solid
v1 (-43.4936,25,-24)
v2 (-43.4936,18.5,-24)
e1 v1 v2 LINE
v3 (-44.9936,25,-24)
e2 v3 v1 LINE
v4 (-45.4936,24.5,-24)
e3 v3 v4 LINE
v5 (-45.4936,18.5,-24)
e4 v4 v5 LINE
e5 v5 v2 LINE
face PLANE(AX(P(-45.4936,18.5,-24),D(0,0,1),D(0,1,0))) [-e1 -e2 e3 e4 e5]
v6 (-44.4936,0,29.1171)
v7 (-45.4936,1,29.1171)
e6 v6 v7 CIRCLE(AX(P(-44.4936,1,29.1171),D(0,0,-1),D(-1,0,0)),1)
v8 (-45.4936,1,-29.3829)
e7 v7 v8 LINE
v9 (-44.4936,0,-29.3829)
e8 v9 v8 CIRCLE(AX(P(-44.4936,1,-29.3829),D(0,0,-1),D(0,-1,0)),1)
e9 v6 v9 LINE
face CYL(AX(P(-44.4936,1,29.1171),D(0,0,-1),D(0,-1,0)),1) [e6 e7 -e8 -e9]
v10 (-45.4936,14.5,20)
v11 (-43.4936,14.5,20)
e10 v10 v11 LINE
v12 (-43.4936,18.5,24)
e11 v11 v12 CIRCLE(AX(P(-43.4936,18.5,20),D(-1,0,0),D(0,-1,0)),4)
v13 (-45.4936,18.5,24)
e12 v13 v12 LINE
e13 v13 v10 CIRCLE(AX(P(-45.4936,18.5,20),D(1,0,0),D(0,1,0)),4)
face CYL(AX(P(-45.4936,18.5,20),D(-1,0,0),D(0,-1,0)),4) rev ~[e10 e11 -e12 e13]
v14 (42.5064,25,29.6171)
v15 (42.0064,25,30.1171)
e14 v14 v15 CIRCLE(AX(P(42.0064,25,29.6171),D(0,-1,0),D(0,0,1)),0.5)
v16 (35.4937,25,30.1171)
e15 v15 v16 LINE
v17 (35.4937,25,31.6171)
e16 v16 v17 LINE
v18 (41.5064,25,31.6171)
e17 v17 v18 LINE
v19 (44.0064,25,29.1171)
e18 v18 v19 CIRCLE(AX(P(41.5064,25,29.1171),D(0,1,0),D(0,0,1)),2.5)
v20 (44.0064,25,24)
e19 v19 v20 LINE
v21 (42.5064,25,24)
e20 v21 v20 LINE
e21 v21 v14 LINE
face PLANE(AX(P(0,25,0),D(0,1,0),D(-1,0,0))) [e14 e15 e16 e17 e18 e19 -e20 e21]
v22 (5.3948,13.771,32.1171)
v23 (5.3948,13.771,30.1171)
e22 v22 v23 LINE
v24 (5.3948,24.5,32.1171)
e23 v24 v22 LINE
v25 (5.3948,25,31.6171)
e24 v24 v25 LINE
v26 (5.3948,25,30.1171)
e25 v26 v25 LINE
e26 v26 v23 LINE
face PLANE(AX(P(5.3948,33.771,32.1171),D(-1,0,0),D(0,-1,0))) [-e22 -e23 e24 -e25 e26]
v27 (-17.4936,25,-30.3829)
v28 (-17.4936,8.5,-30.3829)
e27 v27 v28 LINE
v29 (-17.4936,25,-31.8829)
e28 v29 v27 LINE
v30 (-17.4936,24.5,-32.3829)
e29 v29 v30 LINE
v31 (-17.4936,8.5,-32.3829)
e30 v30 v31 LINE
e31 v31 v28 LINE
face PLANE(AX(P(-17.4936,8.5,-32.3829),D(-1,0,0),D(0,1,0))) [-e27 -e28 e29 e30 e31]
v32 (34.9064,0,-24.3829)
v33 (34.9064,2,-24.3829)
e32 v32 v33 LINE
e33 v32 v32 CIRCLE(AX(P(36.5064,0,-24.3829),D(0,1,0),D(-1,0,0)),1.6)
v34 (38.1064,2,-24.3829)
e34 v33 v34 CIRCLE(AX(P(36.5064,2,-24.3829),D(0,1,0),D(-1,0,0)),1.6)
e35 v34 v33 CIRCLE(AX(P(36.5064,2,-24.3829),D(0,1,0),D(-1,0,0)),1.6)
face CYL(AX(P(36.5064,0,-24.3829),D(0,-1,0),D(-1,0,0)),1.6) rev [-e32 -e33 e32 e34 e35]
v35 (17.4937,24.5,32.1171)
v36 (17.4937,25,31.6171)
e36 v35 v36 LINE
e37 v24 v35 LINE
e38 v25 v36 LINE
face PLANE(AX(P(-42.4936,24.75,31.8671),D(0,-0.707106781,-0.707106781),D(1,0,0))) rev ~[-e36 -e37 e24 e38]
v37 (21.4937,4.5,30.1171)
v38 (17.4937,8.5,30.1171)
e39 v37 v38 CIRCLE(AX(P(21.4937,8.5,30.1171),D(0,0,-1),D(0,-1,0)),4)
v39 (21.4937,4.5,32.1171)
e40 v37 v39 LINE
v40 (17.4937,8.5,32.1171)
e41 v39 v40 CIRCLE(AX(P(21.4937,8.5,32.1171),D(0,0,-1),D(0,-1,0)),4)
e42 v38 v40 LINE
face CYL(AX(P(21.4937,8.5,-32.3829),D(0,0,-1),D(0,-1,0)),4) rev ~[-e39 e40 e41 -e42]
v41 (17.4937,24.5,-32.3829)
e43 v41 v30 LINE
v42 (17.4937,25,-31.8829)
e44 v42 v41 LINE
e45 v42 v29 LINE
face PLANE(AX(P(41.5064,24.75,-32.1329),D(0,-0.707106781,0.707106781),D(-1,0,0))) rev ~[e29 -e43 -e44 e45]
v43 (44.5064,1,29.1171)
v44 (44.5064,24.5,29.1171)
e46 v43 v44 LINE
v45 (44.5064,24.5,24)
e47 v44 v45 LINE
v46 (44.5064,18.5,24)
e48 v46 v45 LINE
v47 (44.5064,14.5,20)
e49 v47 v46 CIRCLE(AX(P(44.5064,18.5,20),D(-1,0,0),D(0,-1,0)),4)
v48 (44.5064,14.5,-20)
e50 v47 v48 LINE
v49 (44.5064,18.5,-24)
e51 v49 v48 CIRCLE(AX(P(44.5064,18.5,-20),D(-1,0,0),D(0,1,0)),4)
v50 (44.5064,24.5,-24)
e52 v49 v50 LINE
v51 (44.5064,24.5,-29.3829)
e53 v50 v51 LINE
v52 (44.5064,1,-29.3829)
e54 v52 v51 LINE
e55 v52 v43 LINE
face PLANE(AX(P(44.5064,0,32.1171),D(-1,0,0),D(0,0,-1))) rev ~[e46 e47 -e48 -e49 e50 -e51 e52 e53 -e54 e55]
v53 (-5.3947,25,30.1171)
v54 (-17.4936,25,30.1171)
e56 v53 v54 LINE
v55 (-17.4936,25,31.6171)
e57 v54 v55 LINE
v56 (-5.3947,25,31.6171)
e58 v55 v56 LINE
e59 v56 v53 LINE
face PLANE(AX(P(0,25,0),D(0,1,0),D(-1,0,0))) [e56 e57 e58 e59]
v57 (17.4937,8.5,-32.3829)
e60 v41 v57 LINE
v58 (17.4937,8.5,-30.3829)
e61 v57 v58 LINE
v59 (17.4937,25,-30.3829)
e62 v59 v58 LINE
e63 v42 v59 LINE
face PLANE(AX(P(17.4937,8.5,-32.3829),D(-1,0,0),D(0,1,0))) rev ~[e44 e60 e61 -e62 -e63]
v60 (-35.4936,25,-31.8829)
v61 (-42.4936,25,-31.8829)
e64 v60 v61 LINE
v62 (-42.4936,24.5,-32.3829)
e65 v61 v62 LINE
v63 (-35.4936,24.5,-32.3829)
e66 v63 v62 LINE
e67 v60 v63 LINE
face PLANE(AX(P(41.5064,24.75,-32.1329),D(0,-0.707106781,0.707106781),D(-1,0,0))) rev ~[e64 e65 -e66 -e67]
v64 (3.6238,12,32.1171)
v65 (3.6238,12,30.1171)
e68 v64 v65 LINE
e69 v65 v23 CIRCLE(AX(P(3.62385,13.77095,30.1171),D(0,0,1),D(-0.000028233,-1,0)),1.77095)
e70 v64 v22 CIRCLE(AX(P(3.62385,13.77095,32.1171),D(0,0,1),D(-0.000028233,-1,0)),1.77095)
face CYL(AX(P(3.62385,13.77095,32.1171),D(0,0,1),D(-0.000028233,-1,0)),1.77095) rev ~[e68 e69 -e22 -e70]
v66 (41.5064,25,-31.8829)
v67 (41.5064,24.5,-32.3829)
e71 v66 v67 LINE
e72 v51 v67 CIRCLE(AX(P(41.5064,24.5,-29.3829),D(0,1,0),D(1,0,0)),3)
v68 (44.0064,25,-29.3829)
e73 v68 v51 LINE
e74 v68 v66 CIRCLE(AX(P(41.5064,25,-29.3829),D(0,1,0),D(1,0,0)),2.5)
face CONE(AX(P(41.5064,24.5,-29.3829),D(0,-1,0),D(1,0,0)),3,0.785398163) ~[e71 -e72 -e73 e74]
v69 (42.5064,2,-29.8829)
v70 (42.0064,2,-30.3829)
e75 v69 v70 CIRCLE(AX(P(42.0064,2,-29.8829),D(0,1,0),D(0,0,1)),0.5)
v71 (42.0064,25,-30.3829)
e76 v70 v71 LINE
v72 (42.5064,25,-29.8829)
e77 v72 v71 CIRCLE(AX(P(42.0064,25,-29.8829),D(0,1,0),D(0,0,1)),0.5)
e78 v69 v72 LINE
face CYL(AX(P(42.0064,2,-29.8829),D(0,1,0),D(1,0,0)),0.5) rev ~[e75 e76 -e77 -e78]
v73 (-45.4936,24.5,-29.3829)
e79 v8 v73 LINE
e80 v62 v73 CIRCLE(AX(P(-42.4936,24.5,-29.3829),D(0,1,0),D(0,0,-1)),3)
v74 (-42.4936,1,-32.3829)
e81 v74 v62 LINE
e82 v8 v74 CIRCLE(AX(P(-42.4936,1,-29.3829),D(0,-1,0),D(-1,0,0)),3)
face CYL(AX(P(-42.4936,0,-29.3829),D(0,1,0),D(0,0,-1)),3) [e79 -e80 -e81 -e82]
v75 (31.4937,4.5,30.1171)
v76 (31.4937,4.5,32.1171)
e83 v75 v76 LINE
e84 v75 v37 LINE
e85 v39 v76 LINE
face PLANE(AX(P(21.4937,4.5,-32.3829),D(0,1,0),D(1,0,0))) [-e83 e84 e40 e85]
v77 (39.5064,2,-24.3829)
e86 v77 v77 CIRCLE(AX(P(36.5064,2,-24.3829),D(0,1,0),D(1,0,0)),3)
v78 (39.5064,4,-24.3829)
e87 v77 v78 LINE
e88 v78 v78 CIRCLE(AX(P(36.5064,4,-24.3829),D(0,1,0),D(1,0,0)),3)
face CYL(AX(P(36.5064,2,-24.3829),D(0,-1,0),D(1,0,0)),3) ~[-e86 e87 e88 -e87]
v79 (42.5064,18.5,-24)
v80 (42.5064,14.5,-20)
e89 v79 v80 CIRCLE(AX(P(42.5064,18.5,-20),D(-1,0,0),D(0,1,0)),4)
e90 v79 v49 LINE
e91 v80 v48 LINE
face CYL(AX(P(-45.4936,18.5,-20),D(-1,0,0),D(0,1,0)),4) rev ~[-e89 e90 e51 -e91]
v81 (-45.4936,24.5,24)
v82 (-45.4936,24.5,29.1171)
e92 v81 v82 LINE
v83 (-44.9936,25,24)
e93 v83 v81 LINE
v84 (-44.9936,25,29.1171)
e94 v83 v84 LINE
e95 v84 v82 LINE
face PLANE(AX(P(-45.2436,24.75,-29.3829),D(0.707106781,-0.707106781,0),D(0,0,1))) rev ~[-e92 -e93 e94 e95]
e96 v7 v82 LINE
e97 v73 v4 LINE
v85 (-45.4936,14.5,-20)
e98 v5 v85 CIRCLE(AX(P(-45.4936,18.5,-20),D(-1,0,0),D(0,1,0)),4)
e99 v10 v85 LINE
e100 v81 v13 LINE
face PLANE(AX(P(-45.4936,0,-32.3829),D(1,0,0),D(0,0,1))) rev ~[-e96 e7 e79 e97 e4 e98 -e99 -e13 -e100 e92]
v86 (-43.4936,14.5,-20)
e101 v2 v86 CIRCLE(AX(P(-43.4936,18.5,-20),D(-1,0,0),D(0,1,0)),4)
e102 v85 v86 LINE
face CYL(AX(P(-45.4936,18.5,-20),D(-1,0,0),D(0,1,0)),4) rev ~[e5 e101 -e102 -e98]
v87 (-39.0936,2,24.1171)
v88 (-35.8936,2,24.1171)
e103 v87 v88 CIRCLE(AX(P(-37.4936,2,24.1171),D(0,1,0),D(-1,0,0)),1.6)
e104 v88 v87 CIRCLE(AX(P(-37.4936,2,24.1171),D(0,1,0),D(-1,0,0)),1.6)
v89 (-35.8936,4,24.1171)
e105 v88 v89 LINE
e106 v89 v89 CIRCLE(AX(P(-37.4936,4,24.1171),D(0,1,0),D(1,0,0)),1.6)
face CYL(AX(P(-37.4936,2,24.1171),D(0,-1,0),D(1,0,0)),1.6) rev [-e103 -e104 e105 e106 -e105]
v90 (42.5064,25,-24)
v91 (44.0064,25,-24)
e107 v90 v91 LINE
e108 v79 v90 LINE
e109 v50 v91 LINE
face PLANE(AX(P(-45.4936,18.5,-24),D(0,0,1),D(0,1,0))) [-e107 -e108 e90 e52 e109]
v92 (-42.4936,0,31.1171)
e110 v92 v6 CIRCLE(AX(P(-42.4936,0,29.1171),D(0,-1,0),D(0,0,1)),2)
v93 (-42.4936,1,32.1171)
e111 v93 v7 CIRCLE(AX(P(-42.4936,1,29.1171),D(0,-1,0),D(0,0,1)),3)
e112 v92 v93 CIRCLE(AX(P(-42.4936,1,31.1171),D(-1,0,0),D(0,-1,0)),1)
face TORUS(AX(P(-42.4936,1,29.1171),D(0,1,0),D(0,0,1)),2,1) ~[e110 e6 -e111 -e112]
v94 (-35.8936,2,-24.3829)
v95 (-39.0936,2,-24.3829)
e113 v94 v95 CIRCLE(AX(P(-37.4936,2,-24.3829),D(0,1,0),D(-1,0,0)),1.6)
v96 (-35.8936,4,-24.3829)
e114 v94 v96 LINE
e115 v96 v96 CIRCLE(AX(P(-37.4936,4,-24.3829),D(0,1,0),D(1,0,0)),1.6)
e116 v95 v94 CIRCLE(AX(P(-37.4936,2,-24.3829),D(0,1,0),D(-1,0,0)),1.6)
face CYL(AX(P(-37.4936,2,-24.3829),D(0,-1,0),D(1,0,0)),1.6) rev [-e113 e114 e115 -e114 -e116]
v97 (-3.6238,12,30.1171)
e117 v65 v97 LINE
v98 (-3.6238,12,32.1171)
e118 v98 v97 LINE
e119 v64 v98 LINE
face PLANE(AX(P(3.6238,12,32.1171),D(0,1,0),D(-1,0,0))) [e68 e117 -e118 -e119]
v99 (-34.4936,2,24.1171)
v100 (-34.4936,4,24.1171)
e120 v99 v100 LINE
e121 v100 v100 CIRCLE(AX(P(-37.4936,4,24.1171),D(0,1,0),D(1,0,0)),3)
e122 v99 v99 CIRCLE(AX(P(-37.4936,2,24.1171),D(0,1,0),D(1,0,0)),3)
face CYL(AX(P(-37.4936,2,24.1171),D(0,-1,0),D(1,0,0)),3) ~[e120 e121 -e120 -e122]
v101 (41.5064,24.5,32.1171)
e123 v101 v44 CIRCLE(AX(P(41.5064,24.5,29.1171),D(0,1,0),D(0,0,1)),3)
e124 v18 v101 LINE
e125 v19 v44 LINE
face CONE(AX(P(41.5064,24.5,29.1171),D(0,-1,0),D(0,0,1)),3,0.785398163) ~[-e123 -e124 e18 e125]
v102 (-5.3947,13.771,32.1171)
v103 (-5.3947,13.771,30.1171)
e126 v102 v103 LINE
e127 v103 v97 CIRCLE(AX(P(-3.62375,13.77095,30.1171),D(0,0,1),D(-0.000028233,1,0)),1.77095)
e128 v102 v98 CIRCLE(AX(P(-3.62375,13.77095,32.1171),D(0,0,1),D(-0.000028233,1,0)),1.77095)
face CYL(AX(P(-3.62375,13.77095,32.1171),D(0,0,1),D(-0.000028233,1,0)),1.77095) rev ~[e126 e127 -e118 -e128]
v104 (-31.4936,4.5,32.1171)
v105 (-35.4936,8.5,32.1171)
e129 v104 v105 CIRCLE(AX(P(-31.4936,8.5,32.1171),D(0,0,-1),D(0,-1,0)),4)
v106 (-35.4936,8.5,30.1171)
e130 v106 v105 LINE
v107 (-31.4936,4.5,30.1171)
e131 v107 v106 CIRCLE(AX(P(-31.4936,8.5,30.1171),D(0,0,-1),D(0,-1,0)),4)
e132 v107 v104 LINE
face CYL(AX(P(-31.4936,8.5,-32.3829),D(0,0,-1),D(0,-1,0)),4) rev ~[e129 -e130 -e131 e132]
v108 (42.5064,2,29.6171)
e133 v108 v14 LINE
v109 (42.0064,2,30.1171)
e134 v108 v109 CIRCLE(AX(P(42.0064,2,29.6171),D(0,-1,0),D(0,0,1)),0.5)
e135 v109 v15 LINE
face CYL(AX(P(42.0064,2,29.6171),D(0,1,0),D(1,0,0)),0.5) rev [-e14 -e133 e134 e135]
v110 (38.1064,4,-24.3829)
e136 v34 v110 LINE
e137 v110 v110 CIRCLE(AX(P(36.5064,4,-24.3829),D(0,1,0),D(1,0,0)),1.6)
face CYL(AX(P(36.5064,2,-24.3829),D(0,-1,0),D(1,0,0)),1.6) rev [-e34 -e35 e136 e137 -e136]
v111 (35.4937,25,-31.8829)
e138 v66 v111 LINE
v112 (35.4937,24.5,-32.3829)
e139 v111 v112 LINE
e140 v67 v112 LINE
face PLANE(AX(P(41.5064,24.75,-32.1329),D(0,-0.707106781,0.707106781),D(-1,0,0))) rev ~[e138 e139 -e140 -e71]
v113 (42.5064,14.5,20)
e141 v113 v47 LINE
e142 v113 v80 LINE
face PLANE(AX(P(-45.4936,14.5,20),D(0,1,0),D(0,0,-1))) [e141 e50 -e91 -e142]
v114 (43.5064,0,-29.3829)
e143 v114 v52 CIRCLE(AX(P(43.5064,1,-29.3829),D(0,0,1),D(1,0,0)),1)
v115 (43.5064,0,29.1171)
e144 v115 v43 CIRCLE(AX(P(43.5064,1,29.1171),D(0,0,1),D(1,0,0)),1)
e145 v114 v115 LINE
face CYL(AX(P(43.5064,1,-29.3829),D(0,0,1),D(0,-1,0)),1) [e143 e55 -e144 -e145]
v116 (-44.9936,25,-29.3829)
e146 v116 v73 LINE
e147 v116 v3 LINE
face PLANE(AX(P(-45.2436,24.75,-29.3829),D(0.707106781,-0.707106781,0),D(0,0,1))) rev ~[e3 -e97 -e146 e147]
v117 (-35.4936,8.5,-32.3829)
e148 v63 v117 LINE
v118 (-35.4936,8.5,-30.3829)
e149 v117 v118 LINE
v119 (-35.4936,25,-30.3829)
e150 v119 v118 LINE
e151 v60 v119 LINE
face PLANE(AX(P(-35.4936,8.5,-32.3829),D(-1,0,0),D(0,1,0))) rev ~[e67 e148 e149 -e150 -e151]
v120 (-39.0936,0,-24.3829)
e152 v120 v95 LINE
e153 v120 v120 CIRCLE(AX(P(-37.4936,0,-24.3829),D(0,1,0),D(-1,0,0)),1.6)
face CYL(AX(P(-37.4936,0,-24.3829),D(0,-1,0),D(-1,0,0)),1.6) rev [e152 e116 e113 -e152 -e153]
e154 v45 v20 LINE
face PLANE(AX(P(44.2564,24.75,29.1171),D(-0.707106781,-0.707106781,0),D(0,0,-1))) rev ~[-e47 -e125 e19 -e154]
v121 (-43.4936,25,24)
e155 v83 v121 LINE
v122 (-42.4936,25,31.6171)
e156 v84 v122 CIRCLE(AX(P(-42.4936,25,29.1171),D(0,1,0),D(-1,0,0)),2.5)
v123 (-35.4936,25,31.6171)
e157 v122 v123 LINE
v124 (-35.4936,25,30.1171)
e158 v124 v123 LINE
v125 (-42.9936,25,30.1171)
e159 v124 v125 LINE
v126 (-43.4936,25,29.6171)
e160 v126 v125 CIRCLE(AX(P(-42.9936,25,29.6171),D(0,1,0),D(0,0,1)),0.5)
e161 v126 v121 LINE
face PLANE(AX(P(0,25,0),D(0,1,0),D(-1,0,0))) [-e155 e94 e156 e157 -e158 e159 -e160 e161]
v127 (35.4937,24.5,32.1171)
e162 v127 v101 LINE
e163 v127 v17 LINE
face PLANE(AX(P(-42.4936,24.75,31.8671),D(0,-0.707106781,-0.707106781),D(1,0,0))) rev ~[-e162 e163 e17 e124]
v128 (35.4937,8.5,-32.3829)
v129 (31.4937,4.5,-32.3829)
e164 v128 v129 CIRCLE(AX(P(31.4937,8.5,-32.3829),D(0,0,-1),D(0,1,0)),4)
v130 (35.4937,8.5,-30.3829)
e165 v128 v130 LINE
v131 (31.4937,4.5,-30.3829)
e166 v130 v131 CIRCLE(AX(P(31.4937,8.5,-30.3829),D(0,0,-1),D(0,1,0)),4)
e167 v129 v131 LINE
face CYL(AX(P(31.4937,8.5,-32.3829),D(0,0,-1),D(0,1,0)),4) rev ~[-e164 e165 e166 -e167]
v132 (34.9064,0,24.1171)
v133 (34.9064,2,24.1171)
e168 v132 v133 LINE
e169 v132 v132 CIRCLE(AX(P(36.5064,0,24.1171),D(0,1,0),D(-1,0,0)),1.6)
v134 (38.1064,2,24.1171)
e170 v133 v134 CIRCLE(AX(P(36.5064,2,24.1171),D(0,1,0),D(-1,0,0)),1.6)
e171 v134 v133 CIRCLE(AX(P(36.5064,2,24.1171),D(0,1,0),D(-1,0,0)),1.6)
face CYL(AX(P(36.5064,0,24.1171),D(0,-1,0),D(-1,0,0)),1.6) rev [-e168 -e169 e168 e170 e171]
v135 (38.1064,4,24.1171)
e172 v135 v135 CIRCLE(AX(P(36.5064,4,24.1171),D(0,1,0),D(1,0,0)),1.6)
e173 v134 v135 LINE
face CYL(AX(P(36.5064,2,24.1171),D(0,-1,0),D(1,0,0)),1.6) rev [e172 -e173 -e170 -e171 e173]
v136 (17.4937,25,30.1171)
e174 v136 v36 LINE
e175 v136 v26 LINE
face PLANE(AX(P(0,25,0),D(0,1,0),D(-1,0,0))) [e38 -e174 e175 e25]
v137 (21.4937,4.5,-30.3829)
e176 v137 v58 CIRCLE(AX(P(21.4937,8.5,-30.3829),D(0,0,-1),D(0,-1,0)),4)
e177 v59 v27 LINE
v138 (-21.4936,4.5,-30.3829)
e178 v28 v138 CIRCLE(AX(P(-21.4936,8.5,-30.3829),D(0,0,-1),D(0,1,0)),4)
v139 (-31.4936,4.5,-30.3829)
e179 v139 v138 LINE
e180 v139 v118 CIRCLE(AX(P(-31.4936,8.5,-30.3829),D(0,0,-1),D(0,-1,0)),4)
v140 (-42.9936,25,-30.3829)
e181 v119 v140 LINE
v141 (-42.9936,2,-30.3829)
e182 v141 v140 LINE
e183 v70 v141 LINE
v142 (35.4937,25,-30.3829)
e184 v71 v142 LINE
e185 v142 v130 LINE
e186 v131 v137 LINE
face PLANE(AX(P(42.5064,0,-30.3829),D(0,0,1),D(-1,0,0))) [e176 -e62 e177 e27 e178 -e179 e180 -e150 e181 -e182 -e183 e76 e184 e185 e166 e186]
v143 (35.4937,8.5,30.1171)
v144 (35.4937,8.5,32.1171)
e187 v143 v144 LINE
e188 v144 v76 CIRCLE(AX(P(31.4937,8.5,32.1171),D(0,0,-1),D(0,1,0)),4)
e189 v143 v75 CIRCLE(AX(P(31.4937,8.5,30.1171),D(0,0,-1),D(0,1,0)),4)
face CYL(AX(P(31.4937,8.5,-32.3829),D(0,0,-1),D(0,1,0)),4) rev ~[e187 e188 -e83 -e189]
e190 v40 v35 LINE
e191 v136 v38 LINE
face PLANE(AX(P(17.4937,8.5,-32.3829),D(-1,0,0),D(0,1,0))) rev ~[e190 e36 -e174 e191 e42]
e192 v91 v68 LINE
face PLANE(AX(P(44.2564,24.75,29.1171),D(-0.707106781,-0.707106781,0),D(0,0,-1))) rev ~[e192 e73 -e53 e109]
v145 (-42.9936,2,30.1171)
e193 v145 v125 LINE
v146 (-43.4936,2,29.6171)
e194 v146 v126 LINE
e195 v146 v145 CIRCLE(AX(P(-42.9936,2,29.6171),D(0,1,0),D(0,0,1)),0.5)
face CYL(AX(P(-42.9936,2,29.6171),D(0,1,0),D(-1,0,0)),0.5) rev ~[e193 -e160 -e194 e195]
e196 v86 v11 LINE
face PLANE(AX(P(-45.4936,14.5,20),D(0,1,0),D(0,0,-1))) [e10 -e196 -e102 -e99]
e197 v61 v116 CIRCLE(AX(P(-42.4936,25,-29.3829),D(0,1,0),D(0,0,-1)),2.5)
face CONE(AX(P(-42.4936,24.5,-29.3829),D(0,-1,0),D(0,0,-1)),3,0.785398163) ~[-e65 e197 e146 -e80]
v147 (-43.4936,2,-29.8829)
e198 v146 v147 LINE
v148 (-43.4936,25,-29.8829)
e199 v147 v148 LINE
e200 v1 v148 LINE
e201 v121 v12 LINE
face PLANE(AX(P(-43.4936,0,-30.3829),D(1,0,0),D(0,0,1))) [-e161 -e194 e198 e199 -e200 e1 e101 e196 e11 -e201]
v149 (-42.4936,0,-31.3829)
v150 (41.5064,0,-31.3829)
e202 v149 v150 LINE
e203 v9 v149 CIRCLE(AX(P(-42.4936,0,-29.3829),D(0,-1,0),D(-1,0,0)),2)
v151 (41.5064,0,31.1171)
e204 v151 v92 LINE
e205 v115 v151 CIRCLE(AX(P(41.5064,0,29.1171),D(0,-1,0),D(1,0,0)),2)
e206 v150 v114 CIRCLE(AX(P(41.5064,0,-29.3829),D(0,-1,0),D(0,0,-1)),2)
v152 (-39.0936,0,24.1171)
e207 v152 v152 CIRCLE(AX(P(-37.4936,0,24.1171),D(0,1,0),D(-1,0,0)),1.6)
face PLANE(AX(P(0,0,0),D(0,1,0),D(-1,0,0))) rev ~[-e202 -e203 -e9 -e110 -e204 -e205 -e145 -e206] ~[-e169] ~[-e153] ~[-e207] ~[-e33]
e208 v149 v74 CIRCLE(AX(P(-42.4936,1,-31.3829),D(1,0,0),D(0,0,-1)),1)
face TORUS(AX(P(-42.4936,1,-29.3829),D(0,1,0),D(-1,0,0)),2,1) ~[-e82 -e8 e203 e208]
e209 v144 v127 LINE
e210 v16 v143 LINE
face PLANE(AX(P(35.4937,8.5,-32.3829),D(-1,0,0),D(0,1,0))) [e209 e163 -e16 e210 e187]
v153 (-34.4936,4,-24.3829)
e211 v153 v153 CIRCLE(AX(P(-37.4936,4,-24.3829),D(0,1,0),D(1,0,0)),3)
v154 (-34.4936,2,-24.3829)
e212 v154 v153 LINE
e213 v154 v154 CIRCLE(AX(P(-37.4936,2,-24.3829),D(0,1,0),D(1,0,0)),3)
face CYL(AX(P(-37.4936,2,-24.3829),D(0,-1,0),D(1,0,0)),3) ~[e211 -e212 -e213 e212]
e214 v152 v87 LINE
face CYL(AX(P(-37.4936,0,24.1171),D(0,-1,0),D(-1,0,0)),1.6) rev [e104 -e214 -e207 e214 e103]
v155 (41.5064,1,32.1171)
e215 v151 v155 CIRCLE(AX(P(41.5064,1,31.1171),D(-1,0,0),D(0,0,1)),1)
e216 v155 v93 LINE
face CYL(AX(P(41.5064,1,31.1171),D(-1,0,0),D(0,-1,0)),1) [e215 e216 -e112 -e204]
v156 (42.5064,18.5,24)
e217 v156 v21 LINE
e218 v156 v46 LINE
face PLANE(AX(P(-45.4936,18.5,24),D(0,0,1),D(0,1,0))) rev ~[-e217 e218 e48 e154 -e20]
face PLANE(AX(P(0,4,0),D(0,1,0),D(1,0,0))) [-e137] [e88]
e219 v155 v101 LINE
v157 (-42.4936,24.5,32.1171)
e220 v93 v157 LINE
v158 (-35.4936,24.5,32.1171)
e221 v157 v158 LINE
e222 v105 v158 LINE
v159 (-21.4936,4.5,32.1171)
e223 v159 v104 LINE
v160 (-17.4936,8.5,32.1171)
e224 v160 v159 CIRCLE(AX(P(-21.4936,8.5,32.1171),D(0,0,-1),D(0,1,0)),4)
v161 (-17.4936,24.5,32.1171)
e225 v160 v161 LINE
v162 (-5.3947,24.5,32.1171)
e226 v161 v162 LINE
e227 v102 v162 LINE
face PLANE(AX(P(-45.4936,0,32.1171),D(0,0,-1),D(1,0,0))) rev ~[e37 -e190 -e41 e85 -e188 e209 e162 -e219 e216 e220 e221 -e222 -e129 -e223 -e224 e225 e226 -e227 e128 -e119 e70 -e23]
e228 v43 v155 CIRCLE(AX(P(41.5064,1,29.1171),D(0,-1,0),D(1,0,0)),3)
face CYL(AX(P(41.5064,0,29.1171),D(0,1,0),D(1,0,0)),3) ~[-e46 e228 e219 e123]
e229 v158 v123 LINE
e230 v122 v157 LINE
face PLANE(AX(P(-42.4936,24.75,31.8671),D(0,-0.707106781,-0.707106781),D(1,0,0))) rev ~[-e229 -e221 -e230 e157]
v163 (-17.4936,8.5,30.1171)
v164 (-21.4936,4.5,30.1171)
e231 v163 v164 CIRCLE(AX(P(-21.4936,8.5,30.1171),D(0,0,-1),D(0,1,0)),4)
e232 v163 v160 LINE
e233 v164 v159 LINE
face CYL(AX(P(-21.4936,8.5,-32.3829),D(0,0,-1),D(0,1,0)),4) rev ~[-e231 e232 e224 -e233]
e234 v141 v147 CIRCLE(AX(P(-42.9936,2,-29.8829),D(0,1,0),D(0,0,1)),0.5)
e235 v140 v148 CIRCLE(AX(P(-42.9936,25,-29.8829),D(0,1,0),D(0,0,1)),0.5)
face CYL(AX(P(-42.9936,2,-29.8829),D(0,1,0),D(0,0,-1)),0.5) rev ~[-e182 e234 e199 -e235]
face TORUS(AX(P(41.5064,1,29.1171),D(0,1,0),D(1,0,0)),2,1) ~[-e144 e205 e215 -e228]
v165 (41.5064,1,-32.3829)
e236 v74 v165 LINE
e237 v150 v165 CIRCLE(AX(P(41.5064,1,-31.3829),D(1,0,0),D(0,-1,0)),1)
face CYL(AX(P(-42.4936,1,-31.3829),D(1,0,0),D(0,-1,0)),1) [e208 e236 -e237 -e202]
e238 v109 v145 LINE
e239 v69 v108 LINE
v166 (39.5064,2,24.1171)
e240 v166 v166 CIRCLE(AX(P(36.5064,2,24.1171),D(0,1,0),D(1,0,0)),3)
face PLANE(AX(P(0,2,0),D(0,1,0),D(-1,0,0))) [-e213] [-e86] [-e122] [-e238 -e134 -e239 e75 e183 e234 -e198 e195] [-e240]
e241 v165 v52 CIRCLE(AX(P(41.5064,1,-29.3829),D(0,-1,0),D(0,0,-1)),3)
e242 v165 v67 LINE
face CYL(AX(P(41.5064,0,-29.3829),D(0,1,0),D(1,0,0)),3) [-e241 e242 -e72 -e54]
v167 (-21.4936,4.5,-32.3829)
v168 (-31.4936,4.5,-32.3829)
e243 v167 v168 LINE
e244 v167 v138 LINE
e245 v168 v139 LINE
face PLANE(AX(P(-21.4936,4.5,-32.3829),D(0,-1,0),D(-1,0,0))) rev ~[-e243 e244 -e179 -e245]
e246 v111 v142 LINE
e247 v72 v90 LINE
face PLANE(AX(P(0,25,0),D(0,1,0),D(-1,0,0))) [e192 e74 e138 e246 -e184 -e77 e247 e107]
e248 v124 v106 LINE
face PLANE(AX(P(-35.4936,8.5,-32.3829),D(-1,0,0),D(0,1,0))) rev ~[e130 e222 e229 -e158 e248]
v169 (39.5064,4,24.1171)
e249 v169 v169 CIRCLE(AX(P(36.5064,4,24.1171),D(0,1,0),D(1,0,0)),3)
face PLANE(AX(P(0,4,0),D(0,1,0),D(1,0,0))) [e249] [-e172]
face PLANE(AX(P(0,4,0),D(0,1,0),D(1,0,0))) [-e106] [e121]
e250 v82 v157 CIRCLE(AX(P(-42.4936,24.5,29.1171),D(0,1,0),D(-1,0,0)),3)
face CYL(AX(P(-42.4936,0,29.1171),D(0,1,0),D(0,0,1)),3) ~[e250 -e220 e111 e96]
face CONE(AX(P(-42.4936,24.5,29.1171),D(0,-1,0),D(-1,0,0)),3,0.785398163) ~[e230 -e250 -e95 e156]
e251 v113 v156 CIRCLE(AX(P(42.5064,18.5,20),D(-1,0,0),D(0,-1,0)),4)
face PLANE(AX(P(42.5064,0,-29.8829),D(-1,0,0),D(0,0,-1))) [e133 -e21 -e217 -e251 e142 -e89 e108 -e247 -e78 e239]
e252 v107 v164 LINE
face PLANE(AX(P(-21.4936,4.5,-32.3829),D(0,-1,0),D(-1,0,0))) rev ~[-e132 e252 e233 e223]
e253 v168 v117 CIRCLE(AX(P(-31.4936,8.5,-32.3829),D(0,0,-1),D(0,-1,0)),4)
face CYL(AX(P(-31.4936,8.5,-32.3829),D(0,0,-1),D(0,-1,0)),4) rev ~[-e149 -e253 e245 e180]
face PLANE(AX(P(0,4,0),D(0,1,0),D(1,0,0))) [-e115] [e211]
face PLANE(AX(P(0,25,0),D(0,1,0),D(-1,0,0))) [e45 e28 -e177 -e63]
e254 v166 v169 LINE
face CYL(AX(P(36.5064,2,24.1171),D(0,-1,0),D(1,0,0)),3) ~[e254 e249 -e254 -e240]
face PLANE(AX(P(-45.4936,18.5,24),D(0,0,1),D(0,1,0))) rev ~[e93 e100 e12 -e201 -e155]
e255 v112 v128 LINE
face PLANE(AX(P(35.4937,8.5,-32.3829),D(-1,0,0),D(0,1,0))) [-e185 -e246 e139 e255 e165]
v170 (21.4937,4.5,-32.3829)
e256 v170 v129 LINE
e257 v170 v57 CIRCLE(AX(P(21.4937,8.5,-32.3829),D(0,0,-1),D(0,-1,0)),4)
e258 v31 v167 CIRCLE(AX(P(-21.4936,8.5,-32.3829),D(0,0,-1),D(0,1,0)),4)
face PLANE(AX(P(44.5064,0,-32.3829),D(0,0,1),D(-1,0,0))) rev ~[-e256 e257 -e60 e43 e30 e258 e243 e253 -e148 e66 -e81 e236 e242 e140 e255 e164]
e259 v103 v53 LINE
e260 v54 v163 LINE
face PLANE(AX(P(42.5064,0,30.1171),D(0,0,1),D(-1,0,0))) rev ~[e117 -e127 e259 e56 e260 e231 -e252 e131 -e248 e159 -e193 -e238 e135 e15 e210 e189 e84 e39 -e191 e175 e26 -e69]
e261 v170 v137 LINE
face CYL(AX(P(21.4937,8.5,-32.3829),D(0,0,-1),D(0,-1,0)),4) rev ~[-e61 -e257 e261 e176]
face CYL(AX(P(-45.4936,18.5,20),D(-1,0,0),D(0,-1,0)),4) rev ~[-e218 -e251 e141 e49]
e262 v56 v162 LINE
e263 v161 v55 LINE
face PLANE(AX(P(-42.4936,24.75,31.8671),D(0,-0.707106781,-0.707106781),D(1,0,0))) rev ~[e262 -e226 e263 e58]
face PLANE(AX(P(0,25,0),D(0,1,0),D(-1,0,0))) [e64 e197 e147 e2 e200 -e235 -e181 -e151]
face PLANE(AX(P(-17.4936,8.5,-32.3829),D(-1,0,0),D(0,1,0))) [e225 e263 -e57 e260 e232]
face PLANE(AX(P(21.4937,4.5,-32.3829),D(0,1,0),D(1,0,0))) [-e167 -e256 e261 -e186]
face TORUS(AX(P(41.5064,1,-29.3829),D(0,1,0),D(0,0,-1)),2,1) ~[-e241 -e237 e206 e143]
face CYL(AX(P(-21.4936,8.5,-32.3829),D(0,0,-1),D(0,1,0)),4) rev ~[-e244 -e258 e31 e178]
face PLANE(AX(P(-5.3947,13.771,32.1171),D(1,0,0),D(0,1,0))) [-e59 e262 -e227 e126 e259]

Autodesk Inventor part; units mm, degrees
ref_plane "YZ Plane" through (0, 0, 0) normal (1, 0, 0) x (0, 1, 0)
ref_plane "XZ Plane" through (0, 0, 0) normal (0, 1, 0) x (-1, 0, 0)
ref_plane "XY Plane" through (0, 0, 0) normal (0, 0, 1) x (1, 0, 0)
sketch "Sketch1" plane through (0, 0, 0) normal (0, 1, 0) x (-1, 0, 0)
  line L0 (-42.0064, -29.8829) -> (-42.0064, 29.6171)
  line L1 (-42.0064, 29.6171) -> (42.9936, 29.6171)
  line L2 (42.9936, 29.6171) -> (42.9936, -29.8829)
  line L3 (42.9936, -29.8829) -> (-42.0064, -29.8829)
  circle A0 centre (-36.5064, 24.1171) radius 1.6
  circle A1 centre (-36.5064, -24.3829) radius 1.6
  circle A2 centre (37.4936, -24.3829) radius 1.6
  circle A3 centre (37.4936, 24.1171) radius 1.6
  line L4 (-42.5064, -29.8829) -> (-42.5064, 30.1171)
  line L5 (-42.5064, 30.1171) -> (43.4936, 30.1171)
  line L6 (43.4936, -29.8829) -> (43.4936, 30.1171)
  line L7 (-42.5064, -30.3829) -> (43.4936, -30.3829)
  line L8 (-42.5064, -29.8829) -> (-42.5064, -30.3829)
  line L9 (43.4936, -30.3829) -> (43.4936, -29.8829)
  line L10 (-44.5064, -32.3829) -> (45.4936, -32.3829)
  line L11 (45.4936, -32.3829) -> (45.4936, 32.1171)
  line L12 (45.4936, 32.1171) -> (-44.5064, 32.1171)
  line L13 (-44.5064, 32.1171) -> (-44.5064, -32.3829)
  point P0 (0, 0)
  dimension "d0" = 0.5
  dimension "d1" = 0.5
  dimension "d2" = 0.5
  dimension "d3" = 0.5
  dimension "d4" = 2
  dimension "d5" = 2
  dimension "d6" = 2
  dimension "d7" = 2
extrude "Extrusion1" add sketch "Sketch1" along normal blind 25 contours L13 L12 L11 L10
extrude "Extrusion2" add sketch "Sketch1" along normal blind 2 contours L0 L1 L2 L3 | L4 L5 L6 L9 L7 L8
fillet "Fillet1" radius 3 4 edges at (44.5064, 12.5, 32.1171) (44.5064, 12.5, -32.3829) (-45.4936, 12.5, -32.3829) (-45.4936, 12.5, 32.1171)
fillet "Fillet2" radius 1 8 edges at (43.6277, 0, 31.2384) (44.5064, 0, -0.1329) (43.6277, 0, -31.5042) (-0.4936, 0, -32.3829) (-44.615, 0, -31.5042) (-45.4936, 0, -0.1329) (-44.615, 0, 31.2384) (-0.4936, 0, 32.1171)
chamfer "Chamfer1" distance 0.5 angle 45 8 edges at (-0.4936, 25, 32.1171) (43.6277, 25, 31.2384) (44.5064, 25, -0.1329) (43.6277, 25, -31.5042) (-0.4936, 25, -32.3829) (-44.615, 25, -31.5042) (-45.4936, 25, -0.1329) (-44.615, 25, 31.2384)
fillet "Fillet3" radius 0.5 1 edges at (42.5064, 13.5, 30.1171)
fillet "Fillet4" radius 0.5 1 edges at (42.5064, 13.5, -30.3829)
fillet "Fillet5" radius 0.5 1 edges at (-43.4936, 13.5, -30.3829)
fillet "Fillet6" radius 0.5 1 edges at (-43.4936, 13.5, 30.1171)
sketch "Sketch2" plane through (0, 2, 0) normal (0, 1, 0) x (1, 0, 0)
  circle A0 centre (36.5064, -24.1171) radius 1.6 projected
  circle A1 centre (-37.4936, -24.1171) radius 1.6 projected
  circle A2 centre (-37.4936, 24.3829) radius 1.6 projected
  circle A3 centre (36.5064, 24.3829) radius 1.6 projected
  circle A4 centre (36.5064, -24.1171) radius 3
  circle A5 centre (-37.4936, -24.1171) radius 3
  circle A6 centre (-37.4936, 24.3829) radius 3
  circle A7 centre (36.5064, 24.3829) radius 3
  point P0 (0, 0)
  dimension "d21" = 6
  dimension "d22" = 6
  dimension "d23" = 6
  dimension "d24" = 6
extrude "Extrusion3" add sketch "Sketch2" along normal blind 2
sketch "Sketch3" plane through (41.5064, 1, -32.3829) normal (0, 0, -1) x (-1, 0, 0)
  point P0 (41.5064, -1)
sketch "Sketch4" plane through (-45.4936, 1, -29.3829) normal (-1, 0, 0) x (0, 0, 1)
  line L0 (49.3829, 17.5) -> (9.3829, 17.5) construction
  line L1 (49.3829, 13.5) -> (9.3829, 13.5)
  line L2 (9.3829, 21.5) -> (49.3829, 21.5)
  arc A0 (49.3829, 13.5) -> (49.3829, 21.5) centre (49.3829, 17.5) ccw
  arc A1 (9.3829, 21.5) -> (9.3829, 13.5) centre (9.3829, 17.5) ccw
  line L3 (0, 23.5) -> (58.5, 23.5) projected
  line L4 (5.3829, 17.5) -> (5.3829, 24)
  line L5 (53.3829, 17.5) -> (53.3829, 24)
  line L6 (59, 24) -> (-0.5, 24) projected
  line L7 (5.3829, 24) -> (53.3829, 24)
  line L8 (61.5, 0) -> (61.5, 23.5) projected
  line L9 (29.3829, -1) -> (29.3829, 24)
  point P0 (29.3829, 17.5)
  point P1 (5.3829, 24)
  point P2 (29.3829, 11.5)
  dimension "d27" = 2
  dimension "d28" = 8
  dimension "d38" = 48
  dimension "d39" = 0
extrude "Extrusion4" cut sketch "Sketch4" against normal blind 200 contours L1 L9 L2 A0 | L1 A1 L2 L9
extrude "Extrusion5" cut sketch "Sketch4" against normal blind 200 contours A0 L2 L9 L3 L5 | L2 A1 L4 L3 L9 | L3 L9 L6 L5 | L3 L4 L6 L9
sketch "Sketch5" plane through (41.5064, 1, -32.3829) normal (0, 0, -1) x (-1, 0, 0)
  line L0 (73, 7.5) -> (63, 7.5) construction
  line L1 (73, 11.5) -> (63, 11.5)
  line L2 (63, 3.5) -> (73, 3.5)
  arc A0 (73, 3.5) -> (73, 11.5) centre (73, 7.5) ccw
  arc A1 (63, 11.5) -> (63, 3.5) centre (63, 7.5) ccw
  line L3 (41.5064, -1) -> (41.5064, 23.5)
  line L4 (0, 23.5) -> (84, 23.5) projected
  line L5 (10.0127, 7.5) -> (20.0127, 7.5) construction
  line L6 (10.0127, 11.5) -> (20.0127, 11.5)
  line L7 (20.0127, 3.5) -> (10.0127, 3.5)
  arc A2 (10.0127, 11.5) -> (10.0127, 3.5) centre (10.0127, 7.5) ccw
  arc A3 (20.0127, 3.5) -> (20.0127, 11.5) centre (20.0127, 7.5) ccw
  line L8 (0, -1) -> (84, -1) projected
  line L9 (6.0127, 7.5) -> (6.0127, 24)
  line L10 (84.5, 24) -> (-0.5, 24) projected
  line L11 (24.0127, 7.5) -> (24.0127, 24)
  line L12 (6.0127, 24) -> (24.0127, 24)
  line L13 (59, 7.5) -> (59, 24)
  line L14 (77, 7.5) -> (77, 24)
  line L15 (59, 24) -> (77, 24)
  line L16 (59, 24) -> (59, 15.5271)
  line L17 (59, 15.5271) -> (77, 15.5271)
  line L18 (77, 15.5271) -> (77, 24)
  line L19 (6.0127, 24) -> (24.0127, 24)
  line L20 (59, 24) -> (77, 24)
  line L21 (68, 7.5) -> (68, 24) construction
  line L22 (15.0127, 7.5) -> (15.0127, 24) construction
  line L23 (84, 23.5) -> (84, 0) projected
  point P0 (84, 11.75)
  dimension "d40" = 5
  dimension "d41" = 8
  dimension "d42" = 4.5
  dimension "d45" = 7
extrude "Extrusion6" cut sketch "Sketch5" against normal blind 200 contours A0 L2 A1 L1 | L1 A1 L13 L17 L14 A0 | L17 L13 L4 L14 | L4 L13 L10 L14 | L11 A3 L6 A2 L9 L4 | L4 L9 L10 L11 | A3 L7 A2 L6
sketch "Sketch6" plane through (-42.4936, 1, 32.1171) normal (0, 0, 1) x (1, 0, 0)
  line L0 (46.1174, 12.771) -> (38.8698, 12.771) construction
  line L1 (46.1174, 11) -> (38.8698, 11)
  line L2 (38.8698, 14.5419) -> (46.1174, 14.5419)
  arc A0 (46.1174, 11) -> (46.1174, 14.5419) centre (46.1174, 12.771) ccw
  arc A1 (38.8698, 14.5419) -> (38.8698, 11) centre (38.8698, 12.771) ccw
  line L3 (37.0989, 12.771) -> (37.0989, 32.771)
  line L4 (37.0989, 32.771) -> (47.8884, 32.771)
  line L5 (47.8884, 32.771) -> (47.8884, 12.771)
  arc A2 (21, 3.5) -> (25, 7.5) centre (21, 7.5) ccw projected
  line L6 (84.5, 1) -> (-0.5, 1) projected
  point P0 (42.4936, -1)
  point P1 (42.4936, 12.771)
  point P2 (42.4936, 11)
  point P3 (42.4936, 14.5419)
  dimension "d46" = 3.5419
  dimension "d50" = 20
  dimension "d51" = 10
extrude "Extrusion7" cut sketch "Sketch6" against normal blind 15
properties part number "cutie_3DPrint"
